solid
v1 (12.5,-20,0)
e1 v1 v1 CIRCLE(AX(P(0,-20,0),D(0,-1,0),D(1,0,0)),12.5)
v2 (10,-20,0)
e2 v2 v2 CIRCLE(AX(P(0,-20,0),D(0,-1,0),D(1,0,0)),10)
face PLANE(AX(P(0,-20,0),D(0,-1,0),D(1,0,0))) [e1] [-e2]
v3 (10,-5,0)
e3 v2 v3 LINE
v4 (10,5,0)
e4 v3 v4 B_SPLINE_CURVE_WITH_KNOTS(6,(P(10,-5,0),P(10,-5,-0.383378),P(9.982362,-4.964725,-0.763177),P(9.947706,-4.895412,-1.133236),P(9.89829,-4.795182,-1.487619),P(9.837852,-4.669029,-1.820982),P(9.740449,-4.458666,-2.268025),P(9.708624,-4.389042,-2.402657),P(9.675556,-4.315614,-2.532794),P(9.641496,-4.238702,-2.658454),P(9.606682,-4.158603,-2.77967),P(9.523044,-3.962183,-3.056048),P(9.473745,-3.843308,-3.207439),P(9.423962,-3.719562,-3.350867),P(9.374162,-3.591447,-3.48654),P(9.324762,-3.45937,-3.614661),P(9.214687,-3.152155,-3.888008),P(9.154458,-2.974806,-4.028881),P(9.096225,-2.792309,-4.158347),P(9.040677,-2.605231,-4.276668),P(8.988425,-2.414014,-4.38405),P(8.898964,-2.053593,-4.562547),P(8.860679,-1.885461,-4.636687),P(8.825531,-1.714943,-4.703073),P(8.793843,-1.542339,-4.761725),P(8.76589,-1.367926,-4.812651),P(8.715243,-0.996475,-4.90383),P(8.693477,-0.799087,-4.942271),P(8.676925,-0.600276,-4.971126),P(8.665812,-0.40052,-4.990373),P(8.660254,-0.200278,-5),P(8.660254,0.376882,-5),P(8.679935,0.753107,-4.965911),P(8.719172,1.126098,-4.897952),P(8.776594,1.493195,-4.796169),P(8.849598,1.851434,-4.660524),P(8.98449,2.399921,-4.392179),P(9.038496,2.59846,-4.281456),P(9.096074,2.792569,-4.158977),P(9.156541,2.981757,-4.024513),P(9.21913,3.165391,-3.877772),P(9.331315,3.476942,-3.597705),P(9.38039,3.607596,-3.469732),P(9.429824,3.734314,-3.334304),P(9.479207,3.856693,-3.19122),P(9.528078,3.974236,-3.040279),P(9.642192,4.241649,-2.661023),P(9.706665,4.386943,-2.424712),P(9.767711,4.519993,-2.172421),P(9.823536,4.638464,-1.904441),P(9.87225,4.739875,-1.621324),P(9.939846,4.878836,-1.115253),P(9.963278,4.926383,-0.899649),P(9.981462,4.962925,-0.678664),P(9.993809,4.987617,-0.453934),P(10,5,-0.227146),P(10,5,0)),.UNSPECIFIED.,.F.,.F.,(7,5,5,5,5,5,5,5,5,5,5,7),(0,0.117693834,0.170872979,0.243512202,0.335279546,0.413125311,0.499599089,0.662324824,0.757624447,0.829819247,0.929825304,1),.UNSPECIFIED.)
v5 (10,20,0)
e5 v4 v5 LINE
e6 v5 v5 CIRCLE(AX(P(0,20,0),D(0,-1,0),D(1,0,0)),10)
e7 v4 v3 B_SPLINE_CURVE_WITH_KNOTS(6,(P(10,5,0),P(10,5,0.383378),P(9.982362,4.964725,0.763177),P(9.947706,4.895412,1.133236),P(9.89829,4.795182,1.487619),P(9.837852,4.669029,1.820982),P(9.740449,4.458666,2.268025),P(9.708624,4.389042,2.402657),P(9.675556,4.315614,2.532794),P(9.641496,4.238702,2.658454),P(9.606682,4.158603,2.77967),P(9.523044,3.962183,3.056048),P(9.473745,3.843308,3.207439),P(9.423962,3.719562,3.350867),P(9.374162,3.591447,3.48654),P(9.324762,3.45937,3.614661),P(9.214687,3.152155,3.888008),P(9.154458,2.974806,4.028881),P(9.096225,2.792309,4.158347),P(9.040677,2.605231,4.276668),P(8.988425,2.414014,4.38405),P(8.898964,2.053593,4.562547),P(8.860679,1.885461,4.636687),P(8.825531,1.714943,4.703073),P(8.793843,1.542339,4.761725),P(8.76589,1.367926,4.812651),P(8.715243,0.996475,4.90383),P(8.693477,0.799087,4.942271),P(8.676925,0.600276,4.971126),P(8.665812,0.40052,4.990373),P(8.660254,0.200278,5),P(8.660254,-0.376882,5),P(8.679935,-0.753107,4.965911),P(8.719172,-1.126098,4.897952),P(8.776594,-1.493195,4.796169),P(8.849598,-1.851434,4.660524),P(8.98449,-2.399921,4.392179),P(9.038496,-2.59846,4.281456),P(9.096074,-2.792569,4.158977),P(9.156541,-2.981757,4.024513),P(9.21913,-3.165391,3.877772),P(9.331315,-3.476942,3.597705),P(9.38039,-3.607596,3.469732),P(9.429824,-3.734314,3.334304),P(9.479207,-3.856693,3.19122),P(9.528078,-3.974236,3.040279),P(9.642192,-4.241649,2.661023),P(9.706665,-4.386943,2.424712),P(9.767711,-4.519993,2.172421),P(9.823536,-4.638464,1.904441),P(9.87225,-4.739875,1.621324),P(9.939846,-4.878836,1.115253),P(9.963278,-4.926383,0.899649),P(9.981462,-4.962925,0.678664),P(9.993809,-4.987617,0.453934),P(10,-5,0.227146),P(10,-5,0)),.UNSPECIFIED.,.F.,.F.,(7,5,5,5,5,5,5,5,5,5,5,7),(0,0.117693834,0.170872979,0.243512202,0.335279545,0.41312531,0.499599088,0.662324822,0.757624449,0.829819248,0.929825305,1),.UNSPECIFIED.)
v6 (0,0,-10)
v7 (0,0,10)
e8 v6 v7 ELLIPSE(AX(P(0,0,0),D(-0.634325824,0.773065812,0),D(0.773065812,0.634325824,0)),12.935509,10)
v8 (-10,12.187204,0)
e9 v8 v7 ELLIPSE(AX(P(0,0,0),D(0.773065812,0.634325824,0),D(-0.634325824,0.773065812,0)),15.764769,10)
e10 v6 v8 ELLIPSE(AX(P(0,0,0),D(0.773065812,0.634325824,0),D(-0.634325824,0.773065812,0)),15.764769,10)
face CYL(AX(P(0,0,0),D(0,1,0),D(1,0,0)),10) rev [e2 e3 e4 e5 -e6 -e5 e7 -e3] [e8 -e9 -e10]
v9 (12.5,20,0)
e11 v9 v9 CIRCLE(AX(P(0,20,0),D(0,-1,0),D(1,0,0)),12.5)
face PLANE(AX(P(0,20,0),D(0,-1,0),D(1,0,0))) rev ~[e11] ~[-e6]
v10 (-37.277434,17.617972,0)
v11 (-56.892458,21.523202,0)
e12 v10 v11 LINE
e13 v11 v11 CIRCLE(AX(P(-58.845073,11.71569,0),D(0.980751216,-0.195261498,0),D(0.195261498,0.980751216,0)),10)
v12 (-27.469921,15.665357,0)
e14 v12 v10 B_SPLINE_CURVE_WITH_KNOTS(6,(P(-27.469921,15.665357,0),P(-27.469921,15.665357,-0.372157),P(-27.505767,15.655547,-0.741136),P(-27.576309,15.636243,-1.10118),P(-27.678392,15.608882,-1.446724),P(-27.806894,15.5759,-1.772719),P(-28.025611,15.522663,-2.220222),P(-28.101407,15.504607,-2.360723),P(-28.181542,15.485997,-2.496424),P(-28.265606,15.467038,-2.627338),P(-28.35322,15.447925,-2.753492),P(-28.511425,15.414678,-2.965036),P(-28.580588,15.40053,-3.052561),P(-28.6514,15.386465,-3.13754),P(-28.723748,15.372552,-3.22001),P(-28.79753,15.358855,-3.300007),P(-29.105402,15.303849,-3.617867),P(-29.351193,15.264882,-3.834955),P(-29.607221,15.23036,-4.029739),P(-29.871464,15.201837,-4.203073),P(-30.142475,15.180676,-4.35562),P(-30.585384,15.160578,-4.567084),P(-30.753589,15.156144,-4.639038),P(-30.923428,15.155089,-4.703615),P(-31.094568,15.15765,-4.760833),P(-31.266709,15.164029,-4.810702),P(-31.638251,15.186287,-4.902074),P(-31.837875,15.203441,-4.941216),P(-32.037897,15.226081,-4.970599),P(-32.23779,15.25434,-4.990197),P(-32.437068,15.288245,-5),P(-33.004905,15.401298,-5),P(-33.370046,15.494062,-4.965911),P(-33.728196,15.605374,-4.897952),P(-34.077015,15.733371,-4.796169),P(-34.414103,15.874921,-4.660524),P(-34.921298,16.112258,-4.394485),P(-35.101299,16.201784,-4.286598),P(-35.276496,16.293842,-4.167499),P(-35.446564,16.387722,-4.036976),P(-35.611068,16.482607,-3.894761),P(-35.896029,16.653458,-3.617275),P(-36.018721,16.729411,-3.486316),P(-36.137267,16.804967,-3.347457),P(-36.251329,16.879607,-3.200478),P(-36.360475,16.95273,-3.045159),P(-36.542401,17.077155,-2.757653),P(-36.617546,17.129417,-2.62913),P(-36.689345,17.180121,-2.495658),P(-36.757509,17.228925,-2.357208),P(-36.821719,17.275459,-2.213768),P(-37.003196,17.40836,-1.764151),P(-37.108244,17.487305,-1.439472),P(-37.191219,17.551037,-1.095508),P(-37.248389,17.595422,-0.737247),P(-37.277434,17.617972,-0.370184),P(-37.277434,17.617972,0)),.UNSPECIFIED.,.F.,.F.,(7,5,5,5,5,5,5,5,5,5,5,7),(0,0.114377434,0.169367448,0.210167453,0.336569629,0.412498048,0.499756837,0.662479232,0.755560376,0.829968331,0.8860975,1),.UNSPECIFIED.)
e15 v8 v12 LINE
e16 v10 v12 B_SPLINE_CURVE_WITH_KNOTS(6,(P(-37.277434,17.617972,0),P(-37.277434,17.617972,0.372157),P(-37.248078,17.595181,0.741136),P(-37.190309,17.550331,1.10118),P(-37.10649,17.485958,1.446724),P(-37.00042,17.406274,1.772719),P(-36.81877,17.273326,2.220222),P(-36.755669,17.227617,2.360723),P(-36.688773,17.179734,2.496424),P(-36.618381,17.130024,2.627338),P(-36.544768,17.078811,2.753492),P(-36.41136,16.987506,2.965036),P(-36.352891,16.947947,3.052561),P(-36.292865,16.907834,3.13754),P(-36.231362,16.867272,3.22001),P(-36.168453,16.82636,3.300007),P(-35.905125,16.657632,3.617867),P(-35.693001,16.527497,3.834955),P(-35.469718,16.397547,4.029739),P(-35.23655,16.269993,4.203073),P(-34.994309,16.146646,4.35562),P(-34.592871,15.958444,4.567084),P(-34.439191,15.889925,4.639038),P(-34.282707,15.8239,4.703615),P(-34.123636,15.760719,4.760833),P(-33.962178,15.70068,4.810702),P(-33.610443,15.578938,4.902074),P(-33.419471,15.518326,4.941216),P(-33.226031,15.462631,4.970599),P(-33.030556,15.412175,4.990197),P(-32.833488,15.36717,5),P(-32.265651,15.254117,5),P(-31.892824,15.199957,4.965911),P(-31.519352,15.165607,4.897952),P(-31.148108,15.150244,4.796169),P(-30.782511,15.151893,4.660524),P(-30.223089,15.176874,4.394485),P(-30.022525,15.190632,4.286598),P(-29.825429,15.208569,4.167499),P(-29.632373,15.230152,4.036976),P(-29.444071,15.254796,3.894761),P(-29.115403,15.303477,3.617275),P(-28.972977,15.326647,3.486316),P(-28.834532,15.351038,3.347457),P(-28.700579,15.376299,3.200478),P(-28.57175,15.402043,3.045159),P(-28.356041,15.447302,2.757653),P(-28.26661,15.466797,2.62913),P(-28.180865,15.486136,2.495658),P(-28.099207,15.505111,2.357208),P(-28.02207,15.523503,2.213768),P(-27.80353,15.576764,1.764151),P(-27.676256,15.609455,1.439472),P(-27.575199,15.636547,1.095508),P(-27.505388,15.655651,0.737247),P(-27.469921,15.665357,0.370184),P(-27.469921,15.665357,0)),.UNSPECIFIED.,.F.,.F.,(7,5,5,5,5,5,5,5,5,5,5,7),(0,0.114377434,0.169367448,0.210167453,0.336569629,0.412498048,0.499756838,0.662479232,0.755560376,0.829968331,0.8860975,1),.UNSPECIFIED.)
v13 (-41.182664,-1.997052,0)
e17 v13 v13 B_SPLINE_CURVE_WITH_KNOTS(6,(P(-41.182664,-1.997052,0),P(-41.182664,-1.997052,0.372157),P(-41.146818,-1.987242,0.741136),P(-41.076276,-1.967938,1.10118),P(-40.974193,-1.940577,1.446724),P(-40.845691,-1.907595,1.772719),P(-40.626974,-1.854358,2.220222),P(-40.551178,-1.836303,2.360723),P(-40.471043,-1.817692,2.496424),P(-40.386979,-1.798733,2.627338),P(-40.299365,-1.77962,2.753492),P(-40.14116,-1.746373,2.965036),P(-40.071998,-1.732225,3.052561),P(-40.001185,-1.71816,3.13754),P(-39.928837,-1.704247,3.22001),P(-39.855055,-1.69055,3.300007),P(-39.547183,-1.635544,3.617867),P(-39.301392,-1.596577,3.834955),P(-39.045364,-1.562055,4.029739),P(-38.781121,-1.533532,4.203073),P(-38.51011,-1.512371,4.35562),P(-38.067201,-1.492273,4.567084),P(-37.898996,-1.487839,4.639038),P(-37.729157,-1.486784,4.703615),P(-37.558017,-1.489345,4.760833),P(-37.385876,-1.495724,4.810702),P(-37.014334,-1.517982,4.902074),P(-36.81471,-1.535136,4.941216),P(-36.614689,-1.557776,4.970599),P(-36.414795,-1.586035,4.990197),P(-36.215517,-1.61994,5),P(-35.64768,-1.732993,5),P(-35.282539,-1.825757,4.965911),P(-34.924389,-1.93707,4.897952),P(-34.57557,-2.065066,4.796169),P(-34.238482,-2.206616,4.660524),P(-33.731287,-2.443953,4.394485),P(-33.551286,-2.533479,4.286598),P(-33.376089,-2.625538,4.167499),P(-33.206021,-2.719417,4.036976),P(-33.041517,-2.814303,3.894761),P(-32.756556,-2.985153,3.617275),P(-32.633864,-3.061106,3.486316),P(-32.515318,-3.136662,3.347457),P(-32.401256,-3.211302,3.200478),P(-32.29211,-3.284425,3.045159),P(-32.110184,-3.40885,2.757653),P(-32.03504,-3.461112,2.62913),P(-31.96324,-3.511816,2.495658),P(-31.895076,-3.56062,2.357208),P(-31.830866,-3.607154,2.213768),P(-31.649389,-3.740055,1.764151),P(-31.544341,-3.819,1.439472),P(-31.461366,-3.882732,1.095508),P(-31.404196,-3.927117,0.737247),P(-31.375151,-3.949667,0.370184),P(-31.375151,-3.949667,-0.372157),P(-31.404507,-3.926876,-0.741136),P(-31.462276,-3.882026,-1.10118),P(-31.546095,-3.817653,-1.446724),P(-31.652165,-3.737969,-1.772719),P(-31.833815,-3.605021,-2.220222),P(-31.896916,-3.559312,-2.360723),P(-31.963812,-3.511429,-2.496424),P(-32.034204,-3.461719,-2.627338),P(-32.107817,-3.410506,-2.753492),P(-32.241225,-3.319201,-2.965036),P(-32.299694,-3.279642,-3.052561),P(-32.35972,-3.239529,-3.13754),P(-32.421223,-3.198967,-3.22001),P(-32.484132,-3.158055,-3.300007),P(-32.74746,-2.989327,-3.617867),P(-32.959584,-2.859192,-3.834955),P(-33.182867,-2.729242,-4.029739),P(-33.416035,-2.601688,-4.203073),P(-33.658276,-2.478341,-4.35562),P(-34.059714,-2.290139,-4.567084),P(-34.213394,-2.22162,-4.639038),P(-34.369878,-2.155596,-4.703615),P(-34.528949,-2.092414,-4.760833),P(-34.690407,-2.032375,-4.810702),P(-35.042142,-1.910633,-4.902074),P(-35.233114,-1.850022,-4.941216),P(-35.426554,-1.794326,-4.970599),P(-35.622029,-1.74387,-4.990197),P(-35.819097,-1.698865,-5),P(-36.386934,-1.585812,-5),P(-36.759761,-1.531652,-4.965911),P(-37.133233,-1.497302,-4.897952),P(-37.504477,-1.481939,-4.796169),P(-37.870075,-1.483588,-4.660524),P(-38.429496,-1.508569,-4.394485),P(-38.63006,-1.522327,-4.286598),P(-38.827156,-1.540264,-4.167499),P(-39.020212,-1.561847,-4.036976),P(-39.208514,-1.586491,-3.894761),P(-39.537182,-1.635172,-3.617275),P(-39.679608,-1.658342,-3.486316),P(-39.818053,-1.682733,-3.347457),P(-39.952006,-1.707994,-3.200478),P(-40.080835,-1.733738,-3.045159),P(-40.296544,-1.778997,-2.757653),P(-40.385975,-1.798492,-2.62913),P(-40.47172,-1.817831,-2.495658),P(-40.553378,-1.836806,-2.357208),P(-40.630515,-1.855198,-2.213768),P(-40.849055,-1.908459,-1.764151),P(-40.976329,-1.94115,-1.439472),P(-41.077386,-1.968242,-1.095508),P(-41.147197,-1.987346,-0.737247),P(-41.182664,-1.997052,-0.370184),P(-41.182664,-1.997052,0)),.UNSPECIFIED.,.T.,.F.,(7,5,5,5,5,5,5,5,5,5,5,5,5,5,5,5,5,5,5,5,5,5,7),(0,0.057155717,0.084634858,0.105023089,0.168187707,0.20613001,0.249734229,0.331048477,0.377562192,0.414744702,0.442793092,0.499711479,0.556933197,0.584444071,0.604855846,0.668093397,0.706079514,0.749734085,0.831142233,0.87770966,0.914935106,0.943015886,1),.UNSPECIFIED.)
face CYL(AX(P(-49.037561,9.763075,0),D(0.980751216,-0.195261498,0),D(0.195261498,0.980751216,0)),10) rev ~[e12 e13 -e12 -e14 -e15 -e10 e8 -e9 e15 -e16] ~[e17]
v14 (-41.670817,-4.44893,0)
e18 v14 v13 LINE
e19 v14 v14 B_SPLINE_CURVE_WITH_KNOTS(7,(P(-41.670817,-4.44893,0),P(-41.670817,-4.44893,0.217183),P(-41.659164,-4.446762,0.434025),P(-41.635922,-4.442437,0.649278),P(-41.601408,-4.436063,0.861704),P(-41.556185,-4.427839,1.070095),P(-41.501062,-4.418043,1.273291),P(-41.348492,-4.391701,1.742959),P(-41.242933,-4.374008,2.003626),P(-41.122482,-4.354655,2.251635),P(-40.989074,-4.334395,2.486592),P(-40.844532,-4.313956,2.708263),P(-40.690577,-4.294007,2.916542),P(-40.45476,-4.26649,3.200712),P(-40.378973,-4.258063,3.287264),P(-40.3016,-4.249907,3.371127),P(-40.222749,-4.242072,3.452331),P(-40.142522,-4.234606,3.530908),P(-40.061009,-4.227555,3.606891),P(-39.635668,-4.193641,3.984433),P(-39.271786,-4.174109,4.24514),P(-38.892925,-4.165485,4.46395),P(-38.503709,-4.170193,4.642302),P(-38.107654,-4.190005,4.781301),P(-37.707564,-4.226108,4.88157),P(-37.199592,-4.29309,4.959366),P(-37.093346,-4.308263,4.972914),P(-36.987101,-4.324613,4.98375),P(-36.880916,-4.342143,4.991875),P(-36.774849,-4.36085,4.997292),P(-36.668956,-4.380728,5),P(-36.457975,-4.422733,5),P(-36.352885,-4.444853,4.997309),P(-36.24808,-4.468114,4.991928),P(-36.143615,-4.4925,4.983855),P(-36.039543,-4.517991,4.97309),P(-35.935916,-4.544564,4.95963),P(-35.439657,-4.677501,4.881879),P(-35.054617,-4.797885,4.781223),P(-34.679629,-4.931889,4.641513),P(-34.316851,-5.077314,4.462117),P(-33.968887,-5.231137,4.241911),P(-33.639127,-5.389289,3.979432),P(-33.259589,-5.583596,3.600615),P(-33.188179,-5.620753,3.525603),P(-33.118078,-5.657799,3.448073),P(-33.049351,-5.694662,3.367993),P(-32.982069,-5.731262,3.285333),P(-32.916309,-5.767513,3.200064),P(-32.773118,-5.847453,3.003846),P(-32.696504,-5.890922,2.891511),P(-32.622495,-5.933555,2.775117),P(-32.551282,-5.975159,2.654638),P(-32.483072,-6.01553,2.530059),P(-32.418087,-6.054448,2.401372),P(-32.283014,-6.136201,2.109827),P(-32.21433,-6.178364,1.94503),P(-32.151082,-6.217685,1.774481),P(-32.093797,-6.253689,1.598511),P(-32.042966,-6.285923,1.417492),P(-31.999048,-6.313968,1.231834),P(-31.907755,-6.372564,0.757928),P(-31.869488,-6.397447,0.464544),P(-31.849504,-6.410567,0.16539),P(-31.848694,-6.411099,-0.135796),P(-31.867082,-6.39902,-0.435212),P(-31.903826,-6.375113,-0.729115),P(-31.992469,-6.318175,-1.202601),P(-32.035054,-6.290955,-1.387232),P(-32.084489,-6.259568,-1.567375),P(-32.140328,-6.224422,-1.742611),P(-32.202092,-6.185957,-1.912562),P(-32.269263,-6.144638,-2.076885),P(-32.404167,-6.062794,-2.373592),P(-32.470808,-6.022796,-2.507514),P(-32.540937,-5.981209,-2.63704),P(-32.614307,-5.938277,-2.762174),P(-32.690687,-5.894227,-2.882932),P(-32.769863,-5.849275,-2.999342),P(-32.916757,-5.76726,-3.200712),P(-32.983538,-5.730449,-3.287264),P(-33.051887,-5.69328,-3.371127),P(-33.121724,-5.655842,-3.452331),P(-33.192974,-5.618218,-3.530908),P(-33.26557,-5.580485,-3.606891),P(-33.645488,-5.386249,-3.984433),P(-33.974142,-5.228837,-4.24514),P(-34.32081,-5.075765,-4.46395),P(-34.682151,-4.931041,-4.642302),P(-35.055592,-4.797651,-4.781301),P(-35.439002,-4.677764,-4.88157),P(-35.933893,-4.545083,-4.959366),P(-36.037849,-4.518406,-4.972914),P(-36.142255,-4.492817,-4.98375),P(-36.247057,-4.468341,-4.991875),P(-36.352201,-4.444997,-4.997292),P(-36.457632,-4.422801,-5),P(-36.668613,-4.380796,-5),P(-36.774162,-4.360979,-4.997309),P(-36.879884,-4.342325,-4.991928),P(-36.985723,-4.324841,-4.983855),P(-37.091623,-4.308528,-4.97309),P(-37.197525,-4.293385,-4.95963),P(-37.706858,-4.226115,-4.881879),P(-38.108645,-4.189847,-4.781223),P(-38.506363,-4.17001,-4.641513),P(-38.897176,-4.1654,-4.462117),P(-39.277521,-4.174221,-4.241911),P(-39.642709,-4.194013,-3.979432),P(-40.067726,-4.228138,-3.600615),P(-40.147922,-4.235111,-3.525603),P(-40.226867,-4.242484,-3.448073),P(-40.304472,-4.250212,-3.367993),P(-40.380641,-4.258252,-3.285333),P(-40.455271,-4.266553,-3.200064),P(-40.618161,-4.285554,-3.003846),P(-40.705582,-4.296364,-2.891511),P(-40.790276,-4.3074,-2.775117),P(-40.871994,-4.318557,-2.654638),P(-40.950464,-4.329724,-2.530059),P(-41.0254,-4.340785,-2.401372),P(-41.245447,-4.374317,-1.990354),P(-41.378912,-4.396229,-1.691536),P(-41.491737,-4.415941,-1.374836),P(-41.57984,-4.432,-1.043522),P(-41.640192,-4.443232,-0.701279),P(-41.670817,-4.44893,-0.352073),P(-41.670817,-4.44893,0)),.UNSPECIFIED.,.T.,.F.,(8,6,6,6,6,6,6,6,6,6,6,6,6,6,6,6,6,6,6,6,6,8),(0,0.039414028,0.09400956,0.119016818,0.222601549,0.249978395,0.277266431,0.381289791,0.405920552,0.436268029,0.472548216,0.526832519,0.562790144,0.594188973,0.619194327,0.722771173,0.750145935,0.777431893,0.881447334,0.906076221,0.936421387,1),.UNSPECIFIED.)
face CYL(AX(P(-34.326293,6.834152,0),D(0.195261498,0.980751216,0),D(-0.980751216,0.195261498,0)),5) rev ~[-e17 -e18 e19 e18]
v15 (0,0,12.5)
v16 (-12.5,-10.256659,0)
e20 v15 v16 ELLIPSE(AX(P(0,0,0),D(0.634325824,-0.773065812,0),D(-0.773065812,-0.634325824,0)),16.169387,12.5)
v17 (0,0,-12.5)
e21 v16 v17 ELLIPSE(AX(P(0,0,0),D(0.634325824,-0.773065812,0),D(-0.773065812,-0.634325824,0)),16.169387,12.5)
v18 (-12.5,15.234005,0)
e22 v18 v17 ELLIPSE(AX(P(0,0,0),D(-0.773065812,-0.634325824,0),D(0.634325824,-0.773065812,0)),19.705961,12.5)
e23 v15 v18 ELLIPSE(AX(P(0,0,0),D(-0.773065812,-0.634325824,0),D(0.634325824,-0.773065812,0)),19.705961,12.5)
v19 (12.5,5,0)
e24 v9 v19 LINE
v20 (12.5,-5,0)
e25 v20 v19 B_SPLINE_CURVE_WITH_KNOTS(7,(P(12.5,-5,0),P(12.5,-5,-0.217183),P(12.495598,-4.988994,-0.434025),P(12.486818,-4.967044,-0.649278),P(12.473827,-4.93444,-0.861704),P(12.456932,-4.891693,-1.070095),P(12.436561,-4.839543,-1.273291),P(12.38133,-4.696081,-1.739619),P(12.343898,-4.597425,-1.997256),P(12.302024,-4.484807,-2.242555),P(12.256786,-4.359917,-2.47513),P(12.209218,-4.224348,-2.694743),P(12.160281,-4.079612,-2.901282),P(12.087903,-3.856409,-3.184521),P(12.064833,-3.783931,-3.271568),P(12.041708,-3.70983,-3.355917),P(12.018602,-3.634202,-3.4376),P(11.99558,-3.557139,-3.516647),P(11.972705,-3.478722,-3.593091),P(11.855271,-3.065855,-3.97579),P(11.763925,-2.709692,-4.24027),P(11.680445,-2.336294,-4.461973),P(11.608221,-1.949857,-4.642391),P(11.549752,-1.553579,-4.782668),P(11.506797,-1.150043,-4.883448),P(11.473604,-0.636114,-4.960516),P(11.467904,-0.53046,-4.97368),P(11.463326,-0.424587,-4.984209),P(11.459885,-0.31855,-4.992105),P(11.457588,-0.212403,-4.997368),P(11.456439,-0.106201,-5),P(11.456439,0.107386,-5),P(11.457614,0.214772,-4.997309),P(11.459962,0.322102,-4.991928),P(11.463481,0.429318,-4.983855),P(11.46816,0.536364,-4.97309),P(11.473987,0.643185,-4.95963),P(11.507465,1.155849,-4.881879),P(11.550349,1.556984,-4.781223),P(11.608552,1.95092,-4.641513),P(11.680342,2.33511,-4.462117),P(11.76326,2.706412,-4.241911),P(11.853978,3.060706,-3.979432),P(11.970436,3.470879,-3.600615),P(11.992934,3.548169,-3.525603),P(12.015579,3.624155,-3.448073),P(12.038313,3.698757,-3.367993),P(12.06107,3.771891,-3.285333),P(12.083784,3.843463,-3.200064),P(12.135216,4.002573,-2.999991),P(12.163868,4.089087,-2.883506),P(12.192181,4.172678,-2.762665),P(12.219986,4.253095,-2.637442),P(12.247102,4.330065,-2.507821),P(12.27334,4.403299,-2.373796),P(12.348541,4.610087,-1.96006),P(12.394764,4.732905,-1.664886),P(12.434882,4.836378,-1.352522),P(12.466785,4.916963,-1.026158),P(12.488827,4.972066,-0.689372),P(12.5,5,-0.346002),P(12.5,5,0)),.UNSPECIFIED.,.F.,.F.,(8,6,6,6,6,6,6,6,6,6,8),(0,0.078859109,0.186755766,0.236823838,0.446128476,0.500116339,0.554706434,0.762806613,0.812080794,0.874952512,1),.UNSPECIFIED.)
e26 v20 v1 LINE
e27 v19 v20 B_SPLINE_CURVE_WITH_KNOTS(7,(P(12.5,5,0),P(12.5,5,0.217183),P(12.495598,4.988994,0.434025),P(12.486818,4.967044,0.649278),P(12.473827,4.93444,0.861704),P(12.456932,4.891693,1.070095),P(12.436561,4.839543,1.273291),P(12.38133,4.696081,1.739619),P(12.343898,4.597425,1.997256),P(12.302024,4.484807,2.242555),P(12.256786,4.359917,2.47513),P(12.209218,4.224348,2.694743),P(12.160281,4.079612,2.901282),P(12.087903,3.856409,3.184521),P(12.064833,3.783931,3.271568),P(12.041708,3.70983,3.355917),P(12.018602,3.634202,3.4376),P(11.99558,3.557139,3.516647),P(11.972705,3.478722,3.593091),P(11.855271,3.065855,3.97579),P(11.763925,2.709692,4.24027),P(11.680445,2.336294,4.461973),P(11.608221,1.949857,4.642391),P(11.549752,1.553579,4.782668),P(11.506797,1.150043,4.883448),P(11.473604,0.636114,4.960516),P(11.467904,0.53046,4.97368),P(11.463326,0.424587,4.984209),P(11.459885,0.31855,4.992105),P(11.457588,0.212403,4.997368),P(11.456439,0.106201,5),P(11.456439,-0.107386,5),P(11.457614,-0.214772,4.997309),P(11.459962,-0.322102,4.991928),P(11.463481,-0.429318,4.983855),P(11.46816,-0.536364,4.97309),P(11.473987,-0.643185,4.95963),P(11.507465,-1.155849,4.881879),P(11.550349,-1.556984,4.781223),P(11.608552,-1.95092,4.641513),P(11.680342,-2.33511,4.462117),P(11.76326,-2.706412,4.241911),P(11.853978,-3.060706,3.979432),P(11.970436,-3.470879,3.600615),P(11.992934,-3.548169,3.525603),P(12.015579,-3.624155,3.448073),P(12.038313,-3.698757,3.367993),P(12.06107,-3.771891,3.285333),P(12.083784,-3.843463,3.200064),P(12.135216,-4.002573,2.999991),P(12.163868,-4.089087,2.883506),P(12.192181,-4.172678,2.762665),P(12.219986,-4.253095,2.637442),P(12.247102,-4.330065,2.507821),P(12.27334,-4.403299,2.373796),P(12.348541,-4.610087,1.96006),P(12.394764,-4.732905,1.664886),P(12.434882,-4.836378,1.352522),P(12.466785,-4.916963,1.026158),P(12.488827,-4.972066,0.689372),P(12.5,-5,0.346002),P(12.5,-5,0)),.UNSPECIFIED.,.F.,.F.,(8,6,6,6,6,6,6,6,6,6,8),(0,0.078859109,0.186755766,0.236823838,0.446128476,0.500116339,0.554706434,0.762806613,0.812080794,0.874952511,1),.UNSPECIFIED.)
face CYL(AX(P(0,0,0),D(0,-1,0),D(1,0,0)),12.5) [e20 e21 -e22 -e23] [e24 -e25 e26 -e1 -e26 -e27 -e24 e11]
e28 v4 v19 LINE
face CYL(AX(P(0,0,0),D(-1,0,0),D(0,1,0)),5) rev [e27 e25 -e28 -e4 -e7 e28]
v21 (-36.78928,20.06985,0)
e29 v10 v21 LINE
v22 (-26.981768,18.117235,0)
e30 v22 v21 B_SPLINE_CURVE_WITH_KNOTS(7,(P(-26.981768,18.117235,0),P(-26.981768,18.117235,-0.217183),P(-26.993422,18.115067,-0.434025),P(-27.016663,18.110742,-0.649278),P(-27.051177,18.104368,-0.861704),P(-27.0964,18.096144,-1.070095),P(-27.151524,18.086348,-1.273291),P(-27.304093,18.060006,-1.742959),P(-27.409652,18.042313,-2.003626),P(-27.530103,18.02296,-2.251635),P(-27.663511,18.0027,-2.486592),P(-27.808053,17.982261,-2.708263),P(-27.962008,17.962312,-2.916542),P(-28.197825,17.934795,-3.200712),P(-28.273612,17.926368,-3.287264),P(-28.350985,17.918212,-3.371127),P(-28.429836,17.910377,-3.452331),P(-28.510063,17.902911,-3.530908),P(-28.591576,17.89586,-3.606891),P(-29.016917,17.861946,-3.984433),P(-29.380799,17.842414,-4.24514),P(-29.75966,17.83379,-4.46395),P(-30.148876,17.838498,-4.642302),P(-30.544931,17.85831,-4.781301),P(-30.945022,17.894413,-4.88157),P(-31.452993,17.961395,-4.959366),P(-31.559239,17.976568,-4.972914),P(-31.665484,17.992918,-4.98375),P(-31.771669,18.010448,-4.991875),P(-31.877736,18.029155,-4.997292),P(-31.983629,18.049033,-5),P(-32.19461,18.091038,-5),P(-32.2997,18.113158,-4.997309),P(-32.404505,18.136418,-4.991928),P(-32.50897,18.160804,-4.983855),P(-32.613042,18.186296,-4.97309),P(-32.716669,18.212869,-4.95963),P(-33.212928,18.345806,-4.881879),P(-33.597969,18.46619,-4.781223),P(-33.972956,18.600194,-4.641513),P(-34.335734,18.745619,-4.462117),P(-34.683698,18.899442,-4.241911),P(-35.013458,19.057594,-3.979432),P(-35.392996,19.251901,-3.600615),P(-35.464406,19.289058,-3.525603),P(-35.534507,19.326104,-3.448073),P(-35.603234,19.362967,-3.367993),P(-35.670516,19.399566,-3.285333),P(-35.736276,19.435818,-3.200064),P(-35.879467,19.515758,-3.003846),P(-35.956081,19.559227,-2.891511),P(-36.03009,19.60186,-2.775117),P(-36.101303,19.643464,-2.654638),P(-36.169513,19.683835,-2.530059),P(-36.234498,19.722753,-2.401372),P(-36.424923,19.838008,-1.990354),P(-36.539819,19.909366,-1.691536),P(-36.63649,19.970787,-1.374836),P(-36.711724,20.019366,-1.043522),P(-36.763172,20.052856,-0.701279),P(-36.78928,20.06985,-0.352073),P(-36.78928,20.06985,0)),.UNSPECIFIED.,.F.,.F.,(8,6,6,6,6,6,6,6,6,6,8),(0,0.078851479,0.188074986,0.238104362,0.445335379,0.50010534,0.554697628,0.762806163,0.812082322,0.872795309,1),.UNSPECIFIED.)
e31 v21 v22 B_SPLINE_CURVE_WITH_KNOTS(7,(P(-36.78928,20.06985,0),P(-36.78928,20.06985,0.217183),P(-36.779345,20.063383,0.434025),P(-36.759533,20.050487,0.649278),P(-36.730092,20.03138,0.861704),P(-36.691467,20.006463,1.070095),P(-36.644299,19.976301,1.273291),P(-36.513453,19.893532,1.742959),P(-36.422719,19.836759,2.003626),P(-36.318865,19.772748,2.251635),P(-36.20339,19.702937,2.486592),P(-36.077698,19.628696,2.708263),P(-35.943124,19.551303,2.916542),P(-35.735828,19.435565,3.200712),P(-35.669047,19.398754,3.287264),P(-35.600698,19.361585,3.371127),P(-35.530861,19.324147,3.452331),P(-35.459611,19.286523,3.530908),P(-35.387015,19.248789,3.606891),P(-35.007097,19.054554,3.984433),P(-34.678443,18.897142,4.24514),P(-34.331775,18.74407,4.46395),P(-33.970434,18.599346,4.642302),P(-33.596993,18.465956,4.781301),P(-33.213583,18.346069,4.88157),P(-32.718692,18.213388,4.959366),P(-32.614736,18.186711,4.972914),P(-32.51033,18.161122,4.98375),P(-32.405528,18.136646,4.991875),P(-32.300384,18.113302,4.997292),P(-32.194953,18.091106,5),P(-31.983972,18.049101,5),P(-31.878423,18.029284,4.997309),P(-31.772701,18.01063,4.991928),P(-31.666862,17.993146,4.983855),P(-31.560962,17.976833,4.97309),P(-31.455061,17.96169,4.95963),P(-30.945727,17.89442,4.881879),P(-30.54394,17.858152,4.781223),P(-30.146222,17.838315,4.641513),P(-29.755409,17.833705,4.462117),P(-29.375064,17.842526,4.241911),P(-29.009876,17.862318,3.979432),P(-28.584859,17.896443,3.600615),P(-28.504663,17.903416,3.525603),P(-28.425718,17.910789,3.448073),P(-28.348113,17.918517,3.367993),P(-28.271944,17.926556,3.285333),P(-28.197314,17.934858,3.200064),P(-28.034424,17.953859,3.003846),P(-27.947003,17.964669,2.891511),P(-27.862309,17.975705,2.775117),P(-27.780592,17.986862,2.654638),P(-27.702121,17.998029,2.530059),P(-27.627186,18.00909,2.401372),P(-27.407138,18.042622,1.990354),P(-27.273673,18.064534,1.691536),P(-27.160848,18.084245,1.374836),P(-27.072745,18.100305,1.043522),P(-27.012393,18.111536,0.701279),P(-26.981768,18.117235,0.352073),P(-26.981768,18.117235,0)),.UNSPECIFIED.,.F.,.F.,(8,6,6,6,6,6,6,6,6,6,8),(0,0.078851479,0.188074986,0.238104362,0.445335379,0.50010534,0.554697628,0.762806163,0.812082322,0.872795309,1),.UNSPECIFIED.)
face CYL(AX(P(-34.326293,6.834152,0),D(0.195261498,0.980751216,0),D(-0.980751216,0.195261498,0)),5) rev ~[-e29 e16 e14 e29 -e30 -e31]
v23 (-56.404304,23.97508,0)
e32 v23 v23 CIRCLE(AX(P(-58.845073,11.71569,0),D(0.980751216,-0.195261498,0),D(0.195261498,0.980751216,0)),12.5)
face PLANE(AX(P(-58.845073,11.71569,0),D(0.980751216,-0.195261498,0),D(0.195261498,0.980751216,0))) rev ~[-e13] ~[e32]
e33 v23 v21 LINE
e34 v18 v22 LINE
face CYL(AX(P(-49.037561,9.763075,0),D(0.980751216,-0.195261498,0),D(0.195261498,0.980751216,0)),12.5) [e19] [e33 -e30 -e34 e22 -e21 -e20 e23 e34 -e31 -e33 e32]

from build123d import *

# Parameters (mm, degrees)
F0_R      = 12.5
F0_R_2    = 10
F1_DEPTH  = 20
F4_R      = 12.5
F4_R_2    = 10
F5_DEPTH  = 50
F6_R      = 10
F7_DEPTH  = 25
F8_R      = 10
F9_DEPTH  = 25
F10_R     = 5
F11_DEPTH = 25
F13_R     = 5
F14_DEPTH = 15
F15_DEPTH = 10


with BuildPart() as f1:
    # F0 (on Front) → F1 (new body, symmetric)
    with BuildSketch(Plane.XZ):
        Circle(F0_R)
        Circle(F0_R_2, mode=Mode.SUBTRACT)
    extrude(amount=F1_DEPTH, both=True)

    # F4 (on line) → F5 (join)
    with BuildSketch(Plane(origin=(0, 0, 0), x_dir=(0.1952614984, 0.9807512158, 0), z_dir=(0.9807512158, -0.1952614984, 0))):
        Circle(F4_R)
        Circle(F4_R_2, mode=Mode.SUBTRACT)
    extrude(amount=-F5_DEPTH)

    # F6 (on Front) → F7 (cut, symmetric)
    with BuildSketch(Plane.XZ):
        Circle(F6_R)
    extrude(amount=F7_DEPTH, both=True, mode=Mode.SUBTRACT)

    # F8 (on line) → F9 (cut)
    with BuildSketch(Plane(origin=(0, 0, 0), x_dir=(0.1952614984, 0.9807512158, 0), z_dir=(0.9807512158, -0.1952614984, 0))):
        Circle(F8_R)
    extrude(amount=-F9_DEPTH, mode=Mode.SUBTRACT)

    # F10 (on Right) → F11 (cut)
    with BuildSketch(Plane.YZ):
        Circle(F10_R)
    extrude(amount=F11_DEPTH, mode=Mode.SUBTRACT)

    # F13 (on face) → F14 (cut, symmetric)
    with BuildSketch(Plane(origin=(0, 0, 0), x_dir=(-0.9807512158, 0.1952614984, 0), z_dir=(0.1952614984, 0.9807512158, 0))):
        with Locations((35, 0)):
            Circle(F13_R)
    extrude(amount=F14_DEPTH, both=True, mode=Mode.SUBTRACT)

    # F15 (add): a face of the model
    f15_faces = [f1.faces().sort_by_distance(p)[0] for p in [
        (-51.4092941538, -2.1495673612, 0),
    ]]
    extrude(f15_faces, amount=F15_DEPTH)


solid = f1.part
